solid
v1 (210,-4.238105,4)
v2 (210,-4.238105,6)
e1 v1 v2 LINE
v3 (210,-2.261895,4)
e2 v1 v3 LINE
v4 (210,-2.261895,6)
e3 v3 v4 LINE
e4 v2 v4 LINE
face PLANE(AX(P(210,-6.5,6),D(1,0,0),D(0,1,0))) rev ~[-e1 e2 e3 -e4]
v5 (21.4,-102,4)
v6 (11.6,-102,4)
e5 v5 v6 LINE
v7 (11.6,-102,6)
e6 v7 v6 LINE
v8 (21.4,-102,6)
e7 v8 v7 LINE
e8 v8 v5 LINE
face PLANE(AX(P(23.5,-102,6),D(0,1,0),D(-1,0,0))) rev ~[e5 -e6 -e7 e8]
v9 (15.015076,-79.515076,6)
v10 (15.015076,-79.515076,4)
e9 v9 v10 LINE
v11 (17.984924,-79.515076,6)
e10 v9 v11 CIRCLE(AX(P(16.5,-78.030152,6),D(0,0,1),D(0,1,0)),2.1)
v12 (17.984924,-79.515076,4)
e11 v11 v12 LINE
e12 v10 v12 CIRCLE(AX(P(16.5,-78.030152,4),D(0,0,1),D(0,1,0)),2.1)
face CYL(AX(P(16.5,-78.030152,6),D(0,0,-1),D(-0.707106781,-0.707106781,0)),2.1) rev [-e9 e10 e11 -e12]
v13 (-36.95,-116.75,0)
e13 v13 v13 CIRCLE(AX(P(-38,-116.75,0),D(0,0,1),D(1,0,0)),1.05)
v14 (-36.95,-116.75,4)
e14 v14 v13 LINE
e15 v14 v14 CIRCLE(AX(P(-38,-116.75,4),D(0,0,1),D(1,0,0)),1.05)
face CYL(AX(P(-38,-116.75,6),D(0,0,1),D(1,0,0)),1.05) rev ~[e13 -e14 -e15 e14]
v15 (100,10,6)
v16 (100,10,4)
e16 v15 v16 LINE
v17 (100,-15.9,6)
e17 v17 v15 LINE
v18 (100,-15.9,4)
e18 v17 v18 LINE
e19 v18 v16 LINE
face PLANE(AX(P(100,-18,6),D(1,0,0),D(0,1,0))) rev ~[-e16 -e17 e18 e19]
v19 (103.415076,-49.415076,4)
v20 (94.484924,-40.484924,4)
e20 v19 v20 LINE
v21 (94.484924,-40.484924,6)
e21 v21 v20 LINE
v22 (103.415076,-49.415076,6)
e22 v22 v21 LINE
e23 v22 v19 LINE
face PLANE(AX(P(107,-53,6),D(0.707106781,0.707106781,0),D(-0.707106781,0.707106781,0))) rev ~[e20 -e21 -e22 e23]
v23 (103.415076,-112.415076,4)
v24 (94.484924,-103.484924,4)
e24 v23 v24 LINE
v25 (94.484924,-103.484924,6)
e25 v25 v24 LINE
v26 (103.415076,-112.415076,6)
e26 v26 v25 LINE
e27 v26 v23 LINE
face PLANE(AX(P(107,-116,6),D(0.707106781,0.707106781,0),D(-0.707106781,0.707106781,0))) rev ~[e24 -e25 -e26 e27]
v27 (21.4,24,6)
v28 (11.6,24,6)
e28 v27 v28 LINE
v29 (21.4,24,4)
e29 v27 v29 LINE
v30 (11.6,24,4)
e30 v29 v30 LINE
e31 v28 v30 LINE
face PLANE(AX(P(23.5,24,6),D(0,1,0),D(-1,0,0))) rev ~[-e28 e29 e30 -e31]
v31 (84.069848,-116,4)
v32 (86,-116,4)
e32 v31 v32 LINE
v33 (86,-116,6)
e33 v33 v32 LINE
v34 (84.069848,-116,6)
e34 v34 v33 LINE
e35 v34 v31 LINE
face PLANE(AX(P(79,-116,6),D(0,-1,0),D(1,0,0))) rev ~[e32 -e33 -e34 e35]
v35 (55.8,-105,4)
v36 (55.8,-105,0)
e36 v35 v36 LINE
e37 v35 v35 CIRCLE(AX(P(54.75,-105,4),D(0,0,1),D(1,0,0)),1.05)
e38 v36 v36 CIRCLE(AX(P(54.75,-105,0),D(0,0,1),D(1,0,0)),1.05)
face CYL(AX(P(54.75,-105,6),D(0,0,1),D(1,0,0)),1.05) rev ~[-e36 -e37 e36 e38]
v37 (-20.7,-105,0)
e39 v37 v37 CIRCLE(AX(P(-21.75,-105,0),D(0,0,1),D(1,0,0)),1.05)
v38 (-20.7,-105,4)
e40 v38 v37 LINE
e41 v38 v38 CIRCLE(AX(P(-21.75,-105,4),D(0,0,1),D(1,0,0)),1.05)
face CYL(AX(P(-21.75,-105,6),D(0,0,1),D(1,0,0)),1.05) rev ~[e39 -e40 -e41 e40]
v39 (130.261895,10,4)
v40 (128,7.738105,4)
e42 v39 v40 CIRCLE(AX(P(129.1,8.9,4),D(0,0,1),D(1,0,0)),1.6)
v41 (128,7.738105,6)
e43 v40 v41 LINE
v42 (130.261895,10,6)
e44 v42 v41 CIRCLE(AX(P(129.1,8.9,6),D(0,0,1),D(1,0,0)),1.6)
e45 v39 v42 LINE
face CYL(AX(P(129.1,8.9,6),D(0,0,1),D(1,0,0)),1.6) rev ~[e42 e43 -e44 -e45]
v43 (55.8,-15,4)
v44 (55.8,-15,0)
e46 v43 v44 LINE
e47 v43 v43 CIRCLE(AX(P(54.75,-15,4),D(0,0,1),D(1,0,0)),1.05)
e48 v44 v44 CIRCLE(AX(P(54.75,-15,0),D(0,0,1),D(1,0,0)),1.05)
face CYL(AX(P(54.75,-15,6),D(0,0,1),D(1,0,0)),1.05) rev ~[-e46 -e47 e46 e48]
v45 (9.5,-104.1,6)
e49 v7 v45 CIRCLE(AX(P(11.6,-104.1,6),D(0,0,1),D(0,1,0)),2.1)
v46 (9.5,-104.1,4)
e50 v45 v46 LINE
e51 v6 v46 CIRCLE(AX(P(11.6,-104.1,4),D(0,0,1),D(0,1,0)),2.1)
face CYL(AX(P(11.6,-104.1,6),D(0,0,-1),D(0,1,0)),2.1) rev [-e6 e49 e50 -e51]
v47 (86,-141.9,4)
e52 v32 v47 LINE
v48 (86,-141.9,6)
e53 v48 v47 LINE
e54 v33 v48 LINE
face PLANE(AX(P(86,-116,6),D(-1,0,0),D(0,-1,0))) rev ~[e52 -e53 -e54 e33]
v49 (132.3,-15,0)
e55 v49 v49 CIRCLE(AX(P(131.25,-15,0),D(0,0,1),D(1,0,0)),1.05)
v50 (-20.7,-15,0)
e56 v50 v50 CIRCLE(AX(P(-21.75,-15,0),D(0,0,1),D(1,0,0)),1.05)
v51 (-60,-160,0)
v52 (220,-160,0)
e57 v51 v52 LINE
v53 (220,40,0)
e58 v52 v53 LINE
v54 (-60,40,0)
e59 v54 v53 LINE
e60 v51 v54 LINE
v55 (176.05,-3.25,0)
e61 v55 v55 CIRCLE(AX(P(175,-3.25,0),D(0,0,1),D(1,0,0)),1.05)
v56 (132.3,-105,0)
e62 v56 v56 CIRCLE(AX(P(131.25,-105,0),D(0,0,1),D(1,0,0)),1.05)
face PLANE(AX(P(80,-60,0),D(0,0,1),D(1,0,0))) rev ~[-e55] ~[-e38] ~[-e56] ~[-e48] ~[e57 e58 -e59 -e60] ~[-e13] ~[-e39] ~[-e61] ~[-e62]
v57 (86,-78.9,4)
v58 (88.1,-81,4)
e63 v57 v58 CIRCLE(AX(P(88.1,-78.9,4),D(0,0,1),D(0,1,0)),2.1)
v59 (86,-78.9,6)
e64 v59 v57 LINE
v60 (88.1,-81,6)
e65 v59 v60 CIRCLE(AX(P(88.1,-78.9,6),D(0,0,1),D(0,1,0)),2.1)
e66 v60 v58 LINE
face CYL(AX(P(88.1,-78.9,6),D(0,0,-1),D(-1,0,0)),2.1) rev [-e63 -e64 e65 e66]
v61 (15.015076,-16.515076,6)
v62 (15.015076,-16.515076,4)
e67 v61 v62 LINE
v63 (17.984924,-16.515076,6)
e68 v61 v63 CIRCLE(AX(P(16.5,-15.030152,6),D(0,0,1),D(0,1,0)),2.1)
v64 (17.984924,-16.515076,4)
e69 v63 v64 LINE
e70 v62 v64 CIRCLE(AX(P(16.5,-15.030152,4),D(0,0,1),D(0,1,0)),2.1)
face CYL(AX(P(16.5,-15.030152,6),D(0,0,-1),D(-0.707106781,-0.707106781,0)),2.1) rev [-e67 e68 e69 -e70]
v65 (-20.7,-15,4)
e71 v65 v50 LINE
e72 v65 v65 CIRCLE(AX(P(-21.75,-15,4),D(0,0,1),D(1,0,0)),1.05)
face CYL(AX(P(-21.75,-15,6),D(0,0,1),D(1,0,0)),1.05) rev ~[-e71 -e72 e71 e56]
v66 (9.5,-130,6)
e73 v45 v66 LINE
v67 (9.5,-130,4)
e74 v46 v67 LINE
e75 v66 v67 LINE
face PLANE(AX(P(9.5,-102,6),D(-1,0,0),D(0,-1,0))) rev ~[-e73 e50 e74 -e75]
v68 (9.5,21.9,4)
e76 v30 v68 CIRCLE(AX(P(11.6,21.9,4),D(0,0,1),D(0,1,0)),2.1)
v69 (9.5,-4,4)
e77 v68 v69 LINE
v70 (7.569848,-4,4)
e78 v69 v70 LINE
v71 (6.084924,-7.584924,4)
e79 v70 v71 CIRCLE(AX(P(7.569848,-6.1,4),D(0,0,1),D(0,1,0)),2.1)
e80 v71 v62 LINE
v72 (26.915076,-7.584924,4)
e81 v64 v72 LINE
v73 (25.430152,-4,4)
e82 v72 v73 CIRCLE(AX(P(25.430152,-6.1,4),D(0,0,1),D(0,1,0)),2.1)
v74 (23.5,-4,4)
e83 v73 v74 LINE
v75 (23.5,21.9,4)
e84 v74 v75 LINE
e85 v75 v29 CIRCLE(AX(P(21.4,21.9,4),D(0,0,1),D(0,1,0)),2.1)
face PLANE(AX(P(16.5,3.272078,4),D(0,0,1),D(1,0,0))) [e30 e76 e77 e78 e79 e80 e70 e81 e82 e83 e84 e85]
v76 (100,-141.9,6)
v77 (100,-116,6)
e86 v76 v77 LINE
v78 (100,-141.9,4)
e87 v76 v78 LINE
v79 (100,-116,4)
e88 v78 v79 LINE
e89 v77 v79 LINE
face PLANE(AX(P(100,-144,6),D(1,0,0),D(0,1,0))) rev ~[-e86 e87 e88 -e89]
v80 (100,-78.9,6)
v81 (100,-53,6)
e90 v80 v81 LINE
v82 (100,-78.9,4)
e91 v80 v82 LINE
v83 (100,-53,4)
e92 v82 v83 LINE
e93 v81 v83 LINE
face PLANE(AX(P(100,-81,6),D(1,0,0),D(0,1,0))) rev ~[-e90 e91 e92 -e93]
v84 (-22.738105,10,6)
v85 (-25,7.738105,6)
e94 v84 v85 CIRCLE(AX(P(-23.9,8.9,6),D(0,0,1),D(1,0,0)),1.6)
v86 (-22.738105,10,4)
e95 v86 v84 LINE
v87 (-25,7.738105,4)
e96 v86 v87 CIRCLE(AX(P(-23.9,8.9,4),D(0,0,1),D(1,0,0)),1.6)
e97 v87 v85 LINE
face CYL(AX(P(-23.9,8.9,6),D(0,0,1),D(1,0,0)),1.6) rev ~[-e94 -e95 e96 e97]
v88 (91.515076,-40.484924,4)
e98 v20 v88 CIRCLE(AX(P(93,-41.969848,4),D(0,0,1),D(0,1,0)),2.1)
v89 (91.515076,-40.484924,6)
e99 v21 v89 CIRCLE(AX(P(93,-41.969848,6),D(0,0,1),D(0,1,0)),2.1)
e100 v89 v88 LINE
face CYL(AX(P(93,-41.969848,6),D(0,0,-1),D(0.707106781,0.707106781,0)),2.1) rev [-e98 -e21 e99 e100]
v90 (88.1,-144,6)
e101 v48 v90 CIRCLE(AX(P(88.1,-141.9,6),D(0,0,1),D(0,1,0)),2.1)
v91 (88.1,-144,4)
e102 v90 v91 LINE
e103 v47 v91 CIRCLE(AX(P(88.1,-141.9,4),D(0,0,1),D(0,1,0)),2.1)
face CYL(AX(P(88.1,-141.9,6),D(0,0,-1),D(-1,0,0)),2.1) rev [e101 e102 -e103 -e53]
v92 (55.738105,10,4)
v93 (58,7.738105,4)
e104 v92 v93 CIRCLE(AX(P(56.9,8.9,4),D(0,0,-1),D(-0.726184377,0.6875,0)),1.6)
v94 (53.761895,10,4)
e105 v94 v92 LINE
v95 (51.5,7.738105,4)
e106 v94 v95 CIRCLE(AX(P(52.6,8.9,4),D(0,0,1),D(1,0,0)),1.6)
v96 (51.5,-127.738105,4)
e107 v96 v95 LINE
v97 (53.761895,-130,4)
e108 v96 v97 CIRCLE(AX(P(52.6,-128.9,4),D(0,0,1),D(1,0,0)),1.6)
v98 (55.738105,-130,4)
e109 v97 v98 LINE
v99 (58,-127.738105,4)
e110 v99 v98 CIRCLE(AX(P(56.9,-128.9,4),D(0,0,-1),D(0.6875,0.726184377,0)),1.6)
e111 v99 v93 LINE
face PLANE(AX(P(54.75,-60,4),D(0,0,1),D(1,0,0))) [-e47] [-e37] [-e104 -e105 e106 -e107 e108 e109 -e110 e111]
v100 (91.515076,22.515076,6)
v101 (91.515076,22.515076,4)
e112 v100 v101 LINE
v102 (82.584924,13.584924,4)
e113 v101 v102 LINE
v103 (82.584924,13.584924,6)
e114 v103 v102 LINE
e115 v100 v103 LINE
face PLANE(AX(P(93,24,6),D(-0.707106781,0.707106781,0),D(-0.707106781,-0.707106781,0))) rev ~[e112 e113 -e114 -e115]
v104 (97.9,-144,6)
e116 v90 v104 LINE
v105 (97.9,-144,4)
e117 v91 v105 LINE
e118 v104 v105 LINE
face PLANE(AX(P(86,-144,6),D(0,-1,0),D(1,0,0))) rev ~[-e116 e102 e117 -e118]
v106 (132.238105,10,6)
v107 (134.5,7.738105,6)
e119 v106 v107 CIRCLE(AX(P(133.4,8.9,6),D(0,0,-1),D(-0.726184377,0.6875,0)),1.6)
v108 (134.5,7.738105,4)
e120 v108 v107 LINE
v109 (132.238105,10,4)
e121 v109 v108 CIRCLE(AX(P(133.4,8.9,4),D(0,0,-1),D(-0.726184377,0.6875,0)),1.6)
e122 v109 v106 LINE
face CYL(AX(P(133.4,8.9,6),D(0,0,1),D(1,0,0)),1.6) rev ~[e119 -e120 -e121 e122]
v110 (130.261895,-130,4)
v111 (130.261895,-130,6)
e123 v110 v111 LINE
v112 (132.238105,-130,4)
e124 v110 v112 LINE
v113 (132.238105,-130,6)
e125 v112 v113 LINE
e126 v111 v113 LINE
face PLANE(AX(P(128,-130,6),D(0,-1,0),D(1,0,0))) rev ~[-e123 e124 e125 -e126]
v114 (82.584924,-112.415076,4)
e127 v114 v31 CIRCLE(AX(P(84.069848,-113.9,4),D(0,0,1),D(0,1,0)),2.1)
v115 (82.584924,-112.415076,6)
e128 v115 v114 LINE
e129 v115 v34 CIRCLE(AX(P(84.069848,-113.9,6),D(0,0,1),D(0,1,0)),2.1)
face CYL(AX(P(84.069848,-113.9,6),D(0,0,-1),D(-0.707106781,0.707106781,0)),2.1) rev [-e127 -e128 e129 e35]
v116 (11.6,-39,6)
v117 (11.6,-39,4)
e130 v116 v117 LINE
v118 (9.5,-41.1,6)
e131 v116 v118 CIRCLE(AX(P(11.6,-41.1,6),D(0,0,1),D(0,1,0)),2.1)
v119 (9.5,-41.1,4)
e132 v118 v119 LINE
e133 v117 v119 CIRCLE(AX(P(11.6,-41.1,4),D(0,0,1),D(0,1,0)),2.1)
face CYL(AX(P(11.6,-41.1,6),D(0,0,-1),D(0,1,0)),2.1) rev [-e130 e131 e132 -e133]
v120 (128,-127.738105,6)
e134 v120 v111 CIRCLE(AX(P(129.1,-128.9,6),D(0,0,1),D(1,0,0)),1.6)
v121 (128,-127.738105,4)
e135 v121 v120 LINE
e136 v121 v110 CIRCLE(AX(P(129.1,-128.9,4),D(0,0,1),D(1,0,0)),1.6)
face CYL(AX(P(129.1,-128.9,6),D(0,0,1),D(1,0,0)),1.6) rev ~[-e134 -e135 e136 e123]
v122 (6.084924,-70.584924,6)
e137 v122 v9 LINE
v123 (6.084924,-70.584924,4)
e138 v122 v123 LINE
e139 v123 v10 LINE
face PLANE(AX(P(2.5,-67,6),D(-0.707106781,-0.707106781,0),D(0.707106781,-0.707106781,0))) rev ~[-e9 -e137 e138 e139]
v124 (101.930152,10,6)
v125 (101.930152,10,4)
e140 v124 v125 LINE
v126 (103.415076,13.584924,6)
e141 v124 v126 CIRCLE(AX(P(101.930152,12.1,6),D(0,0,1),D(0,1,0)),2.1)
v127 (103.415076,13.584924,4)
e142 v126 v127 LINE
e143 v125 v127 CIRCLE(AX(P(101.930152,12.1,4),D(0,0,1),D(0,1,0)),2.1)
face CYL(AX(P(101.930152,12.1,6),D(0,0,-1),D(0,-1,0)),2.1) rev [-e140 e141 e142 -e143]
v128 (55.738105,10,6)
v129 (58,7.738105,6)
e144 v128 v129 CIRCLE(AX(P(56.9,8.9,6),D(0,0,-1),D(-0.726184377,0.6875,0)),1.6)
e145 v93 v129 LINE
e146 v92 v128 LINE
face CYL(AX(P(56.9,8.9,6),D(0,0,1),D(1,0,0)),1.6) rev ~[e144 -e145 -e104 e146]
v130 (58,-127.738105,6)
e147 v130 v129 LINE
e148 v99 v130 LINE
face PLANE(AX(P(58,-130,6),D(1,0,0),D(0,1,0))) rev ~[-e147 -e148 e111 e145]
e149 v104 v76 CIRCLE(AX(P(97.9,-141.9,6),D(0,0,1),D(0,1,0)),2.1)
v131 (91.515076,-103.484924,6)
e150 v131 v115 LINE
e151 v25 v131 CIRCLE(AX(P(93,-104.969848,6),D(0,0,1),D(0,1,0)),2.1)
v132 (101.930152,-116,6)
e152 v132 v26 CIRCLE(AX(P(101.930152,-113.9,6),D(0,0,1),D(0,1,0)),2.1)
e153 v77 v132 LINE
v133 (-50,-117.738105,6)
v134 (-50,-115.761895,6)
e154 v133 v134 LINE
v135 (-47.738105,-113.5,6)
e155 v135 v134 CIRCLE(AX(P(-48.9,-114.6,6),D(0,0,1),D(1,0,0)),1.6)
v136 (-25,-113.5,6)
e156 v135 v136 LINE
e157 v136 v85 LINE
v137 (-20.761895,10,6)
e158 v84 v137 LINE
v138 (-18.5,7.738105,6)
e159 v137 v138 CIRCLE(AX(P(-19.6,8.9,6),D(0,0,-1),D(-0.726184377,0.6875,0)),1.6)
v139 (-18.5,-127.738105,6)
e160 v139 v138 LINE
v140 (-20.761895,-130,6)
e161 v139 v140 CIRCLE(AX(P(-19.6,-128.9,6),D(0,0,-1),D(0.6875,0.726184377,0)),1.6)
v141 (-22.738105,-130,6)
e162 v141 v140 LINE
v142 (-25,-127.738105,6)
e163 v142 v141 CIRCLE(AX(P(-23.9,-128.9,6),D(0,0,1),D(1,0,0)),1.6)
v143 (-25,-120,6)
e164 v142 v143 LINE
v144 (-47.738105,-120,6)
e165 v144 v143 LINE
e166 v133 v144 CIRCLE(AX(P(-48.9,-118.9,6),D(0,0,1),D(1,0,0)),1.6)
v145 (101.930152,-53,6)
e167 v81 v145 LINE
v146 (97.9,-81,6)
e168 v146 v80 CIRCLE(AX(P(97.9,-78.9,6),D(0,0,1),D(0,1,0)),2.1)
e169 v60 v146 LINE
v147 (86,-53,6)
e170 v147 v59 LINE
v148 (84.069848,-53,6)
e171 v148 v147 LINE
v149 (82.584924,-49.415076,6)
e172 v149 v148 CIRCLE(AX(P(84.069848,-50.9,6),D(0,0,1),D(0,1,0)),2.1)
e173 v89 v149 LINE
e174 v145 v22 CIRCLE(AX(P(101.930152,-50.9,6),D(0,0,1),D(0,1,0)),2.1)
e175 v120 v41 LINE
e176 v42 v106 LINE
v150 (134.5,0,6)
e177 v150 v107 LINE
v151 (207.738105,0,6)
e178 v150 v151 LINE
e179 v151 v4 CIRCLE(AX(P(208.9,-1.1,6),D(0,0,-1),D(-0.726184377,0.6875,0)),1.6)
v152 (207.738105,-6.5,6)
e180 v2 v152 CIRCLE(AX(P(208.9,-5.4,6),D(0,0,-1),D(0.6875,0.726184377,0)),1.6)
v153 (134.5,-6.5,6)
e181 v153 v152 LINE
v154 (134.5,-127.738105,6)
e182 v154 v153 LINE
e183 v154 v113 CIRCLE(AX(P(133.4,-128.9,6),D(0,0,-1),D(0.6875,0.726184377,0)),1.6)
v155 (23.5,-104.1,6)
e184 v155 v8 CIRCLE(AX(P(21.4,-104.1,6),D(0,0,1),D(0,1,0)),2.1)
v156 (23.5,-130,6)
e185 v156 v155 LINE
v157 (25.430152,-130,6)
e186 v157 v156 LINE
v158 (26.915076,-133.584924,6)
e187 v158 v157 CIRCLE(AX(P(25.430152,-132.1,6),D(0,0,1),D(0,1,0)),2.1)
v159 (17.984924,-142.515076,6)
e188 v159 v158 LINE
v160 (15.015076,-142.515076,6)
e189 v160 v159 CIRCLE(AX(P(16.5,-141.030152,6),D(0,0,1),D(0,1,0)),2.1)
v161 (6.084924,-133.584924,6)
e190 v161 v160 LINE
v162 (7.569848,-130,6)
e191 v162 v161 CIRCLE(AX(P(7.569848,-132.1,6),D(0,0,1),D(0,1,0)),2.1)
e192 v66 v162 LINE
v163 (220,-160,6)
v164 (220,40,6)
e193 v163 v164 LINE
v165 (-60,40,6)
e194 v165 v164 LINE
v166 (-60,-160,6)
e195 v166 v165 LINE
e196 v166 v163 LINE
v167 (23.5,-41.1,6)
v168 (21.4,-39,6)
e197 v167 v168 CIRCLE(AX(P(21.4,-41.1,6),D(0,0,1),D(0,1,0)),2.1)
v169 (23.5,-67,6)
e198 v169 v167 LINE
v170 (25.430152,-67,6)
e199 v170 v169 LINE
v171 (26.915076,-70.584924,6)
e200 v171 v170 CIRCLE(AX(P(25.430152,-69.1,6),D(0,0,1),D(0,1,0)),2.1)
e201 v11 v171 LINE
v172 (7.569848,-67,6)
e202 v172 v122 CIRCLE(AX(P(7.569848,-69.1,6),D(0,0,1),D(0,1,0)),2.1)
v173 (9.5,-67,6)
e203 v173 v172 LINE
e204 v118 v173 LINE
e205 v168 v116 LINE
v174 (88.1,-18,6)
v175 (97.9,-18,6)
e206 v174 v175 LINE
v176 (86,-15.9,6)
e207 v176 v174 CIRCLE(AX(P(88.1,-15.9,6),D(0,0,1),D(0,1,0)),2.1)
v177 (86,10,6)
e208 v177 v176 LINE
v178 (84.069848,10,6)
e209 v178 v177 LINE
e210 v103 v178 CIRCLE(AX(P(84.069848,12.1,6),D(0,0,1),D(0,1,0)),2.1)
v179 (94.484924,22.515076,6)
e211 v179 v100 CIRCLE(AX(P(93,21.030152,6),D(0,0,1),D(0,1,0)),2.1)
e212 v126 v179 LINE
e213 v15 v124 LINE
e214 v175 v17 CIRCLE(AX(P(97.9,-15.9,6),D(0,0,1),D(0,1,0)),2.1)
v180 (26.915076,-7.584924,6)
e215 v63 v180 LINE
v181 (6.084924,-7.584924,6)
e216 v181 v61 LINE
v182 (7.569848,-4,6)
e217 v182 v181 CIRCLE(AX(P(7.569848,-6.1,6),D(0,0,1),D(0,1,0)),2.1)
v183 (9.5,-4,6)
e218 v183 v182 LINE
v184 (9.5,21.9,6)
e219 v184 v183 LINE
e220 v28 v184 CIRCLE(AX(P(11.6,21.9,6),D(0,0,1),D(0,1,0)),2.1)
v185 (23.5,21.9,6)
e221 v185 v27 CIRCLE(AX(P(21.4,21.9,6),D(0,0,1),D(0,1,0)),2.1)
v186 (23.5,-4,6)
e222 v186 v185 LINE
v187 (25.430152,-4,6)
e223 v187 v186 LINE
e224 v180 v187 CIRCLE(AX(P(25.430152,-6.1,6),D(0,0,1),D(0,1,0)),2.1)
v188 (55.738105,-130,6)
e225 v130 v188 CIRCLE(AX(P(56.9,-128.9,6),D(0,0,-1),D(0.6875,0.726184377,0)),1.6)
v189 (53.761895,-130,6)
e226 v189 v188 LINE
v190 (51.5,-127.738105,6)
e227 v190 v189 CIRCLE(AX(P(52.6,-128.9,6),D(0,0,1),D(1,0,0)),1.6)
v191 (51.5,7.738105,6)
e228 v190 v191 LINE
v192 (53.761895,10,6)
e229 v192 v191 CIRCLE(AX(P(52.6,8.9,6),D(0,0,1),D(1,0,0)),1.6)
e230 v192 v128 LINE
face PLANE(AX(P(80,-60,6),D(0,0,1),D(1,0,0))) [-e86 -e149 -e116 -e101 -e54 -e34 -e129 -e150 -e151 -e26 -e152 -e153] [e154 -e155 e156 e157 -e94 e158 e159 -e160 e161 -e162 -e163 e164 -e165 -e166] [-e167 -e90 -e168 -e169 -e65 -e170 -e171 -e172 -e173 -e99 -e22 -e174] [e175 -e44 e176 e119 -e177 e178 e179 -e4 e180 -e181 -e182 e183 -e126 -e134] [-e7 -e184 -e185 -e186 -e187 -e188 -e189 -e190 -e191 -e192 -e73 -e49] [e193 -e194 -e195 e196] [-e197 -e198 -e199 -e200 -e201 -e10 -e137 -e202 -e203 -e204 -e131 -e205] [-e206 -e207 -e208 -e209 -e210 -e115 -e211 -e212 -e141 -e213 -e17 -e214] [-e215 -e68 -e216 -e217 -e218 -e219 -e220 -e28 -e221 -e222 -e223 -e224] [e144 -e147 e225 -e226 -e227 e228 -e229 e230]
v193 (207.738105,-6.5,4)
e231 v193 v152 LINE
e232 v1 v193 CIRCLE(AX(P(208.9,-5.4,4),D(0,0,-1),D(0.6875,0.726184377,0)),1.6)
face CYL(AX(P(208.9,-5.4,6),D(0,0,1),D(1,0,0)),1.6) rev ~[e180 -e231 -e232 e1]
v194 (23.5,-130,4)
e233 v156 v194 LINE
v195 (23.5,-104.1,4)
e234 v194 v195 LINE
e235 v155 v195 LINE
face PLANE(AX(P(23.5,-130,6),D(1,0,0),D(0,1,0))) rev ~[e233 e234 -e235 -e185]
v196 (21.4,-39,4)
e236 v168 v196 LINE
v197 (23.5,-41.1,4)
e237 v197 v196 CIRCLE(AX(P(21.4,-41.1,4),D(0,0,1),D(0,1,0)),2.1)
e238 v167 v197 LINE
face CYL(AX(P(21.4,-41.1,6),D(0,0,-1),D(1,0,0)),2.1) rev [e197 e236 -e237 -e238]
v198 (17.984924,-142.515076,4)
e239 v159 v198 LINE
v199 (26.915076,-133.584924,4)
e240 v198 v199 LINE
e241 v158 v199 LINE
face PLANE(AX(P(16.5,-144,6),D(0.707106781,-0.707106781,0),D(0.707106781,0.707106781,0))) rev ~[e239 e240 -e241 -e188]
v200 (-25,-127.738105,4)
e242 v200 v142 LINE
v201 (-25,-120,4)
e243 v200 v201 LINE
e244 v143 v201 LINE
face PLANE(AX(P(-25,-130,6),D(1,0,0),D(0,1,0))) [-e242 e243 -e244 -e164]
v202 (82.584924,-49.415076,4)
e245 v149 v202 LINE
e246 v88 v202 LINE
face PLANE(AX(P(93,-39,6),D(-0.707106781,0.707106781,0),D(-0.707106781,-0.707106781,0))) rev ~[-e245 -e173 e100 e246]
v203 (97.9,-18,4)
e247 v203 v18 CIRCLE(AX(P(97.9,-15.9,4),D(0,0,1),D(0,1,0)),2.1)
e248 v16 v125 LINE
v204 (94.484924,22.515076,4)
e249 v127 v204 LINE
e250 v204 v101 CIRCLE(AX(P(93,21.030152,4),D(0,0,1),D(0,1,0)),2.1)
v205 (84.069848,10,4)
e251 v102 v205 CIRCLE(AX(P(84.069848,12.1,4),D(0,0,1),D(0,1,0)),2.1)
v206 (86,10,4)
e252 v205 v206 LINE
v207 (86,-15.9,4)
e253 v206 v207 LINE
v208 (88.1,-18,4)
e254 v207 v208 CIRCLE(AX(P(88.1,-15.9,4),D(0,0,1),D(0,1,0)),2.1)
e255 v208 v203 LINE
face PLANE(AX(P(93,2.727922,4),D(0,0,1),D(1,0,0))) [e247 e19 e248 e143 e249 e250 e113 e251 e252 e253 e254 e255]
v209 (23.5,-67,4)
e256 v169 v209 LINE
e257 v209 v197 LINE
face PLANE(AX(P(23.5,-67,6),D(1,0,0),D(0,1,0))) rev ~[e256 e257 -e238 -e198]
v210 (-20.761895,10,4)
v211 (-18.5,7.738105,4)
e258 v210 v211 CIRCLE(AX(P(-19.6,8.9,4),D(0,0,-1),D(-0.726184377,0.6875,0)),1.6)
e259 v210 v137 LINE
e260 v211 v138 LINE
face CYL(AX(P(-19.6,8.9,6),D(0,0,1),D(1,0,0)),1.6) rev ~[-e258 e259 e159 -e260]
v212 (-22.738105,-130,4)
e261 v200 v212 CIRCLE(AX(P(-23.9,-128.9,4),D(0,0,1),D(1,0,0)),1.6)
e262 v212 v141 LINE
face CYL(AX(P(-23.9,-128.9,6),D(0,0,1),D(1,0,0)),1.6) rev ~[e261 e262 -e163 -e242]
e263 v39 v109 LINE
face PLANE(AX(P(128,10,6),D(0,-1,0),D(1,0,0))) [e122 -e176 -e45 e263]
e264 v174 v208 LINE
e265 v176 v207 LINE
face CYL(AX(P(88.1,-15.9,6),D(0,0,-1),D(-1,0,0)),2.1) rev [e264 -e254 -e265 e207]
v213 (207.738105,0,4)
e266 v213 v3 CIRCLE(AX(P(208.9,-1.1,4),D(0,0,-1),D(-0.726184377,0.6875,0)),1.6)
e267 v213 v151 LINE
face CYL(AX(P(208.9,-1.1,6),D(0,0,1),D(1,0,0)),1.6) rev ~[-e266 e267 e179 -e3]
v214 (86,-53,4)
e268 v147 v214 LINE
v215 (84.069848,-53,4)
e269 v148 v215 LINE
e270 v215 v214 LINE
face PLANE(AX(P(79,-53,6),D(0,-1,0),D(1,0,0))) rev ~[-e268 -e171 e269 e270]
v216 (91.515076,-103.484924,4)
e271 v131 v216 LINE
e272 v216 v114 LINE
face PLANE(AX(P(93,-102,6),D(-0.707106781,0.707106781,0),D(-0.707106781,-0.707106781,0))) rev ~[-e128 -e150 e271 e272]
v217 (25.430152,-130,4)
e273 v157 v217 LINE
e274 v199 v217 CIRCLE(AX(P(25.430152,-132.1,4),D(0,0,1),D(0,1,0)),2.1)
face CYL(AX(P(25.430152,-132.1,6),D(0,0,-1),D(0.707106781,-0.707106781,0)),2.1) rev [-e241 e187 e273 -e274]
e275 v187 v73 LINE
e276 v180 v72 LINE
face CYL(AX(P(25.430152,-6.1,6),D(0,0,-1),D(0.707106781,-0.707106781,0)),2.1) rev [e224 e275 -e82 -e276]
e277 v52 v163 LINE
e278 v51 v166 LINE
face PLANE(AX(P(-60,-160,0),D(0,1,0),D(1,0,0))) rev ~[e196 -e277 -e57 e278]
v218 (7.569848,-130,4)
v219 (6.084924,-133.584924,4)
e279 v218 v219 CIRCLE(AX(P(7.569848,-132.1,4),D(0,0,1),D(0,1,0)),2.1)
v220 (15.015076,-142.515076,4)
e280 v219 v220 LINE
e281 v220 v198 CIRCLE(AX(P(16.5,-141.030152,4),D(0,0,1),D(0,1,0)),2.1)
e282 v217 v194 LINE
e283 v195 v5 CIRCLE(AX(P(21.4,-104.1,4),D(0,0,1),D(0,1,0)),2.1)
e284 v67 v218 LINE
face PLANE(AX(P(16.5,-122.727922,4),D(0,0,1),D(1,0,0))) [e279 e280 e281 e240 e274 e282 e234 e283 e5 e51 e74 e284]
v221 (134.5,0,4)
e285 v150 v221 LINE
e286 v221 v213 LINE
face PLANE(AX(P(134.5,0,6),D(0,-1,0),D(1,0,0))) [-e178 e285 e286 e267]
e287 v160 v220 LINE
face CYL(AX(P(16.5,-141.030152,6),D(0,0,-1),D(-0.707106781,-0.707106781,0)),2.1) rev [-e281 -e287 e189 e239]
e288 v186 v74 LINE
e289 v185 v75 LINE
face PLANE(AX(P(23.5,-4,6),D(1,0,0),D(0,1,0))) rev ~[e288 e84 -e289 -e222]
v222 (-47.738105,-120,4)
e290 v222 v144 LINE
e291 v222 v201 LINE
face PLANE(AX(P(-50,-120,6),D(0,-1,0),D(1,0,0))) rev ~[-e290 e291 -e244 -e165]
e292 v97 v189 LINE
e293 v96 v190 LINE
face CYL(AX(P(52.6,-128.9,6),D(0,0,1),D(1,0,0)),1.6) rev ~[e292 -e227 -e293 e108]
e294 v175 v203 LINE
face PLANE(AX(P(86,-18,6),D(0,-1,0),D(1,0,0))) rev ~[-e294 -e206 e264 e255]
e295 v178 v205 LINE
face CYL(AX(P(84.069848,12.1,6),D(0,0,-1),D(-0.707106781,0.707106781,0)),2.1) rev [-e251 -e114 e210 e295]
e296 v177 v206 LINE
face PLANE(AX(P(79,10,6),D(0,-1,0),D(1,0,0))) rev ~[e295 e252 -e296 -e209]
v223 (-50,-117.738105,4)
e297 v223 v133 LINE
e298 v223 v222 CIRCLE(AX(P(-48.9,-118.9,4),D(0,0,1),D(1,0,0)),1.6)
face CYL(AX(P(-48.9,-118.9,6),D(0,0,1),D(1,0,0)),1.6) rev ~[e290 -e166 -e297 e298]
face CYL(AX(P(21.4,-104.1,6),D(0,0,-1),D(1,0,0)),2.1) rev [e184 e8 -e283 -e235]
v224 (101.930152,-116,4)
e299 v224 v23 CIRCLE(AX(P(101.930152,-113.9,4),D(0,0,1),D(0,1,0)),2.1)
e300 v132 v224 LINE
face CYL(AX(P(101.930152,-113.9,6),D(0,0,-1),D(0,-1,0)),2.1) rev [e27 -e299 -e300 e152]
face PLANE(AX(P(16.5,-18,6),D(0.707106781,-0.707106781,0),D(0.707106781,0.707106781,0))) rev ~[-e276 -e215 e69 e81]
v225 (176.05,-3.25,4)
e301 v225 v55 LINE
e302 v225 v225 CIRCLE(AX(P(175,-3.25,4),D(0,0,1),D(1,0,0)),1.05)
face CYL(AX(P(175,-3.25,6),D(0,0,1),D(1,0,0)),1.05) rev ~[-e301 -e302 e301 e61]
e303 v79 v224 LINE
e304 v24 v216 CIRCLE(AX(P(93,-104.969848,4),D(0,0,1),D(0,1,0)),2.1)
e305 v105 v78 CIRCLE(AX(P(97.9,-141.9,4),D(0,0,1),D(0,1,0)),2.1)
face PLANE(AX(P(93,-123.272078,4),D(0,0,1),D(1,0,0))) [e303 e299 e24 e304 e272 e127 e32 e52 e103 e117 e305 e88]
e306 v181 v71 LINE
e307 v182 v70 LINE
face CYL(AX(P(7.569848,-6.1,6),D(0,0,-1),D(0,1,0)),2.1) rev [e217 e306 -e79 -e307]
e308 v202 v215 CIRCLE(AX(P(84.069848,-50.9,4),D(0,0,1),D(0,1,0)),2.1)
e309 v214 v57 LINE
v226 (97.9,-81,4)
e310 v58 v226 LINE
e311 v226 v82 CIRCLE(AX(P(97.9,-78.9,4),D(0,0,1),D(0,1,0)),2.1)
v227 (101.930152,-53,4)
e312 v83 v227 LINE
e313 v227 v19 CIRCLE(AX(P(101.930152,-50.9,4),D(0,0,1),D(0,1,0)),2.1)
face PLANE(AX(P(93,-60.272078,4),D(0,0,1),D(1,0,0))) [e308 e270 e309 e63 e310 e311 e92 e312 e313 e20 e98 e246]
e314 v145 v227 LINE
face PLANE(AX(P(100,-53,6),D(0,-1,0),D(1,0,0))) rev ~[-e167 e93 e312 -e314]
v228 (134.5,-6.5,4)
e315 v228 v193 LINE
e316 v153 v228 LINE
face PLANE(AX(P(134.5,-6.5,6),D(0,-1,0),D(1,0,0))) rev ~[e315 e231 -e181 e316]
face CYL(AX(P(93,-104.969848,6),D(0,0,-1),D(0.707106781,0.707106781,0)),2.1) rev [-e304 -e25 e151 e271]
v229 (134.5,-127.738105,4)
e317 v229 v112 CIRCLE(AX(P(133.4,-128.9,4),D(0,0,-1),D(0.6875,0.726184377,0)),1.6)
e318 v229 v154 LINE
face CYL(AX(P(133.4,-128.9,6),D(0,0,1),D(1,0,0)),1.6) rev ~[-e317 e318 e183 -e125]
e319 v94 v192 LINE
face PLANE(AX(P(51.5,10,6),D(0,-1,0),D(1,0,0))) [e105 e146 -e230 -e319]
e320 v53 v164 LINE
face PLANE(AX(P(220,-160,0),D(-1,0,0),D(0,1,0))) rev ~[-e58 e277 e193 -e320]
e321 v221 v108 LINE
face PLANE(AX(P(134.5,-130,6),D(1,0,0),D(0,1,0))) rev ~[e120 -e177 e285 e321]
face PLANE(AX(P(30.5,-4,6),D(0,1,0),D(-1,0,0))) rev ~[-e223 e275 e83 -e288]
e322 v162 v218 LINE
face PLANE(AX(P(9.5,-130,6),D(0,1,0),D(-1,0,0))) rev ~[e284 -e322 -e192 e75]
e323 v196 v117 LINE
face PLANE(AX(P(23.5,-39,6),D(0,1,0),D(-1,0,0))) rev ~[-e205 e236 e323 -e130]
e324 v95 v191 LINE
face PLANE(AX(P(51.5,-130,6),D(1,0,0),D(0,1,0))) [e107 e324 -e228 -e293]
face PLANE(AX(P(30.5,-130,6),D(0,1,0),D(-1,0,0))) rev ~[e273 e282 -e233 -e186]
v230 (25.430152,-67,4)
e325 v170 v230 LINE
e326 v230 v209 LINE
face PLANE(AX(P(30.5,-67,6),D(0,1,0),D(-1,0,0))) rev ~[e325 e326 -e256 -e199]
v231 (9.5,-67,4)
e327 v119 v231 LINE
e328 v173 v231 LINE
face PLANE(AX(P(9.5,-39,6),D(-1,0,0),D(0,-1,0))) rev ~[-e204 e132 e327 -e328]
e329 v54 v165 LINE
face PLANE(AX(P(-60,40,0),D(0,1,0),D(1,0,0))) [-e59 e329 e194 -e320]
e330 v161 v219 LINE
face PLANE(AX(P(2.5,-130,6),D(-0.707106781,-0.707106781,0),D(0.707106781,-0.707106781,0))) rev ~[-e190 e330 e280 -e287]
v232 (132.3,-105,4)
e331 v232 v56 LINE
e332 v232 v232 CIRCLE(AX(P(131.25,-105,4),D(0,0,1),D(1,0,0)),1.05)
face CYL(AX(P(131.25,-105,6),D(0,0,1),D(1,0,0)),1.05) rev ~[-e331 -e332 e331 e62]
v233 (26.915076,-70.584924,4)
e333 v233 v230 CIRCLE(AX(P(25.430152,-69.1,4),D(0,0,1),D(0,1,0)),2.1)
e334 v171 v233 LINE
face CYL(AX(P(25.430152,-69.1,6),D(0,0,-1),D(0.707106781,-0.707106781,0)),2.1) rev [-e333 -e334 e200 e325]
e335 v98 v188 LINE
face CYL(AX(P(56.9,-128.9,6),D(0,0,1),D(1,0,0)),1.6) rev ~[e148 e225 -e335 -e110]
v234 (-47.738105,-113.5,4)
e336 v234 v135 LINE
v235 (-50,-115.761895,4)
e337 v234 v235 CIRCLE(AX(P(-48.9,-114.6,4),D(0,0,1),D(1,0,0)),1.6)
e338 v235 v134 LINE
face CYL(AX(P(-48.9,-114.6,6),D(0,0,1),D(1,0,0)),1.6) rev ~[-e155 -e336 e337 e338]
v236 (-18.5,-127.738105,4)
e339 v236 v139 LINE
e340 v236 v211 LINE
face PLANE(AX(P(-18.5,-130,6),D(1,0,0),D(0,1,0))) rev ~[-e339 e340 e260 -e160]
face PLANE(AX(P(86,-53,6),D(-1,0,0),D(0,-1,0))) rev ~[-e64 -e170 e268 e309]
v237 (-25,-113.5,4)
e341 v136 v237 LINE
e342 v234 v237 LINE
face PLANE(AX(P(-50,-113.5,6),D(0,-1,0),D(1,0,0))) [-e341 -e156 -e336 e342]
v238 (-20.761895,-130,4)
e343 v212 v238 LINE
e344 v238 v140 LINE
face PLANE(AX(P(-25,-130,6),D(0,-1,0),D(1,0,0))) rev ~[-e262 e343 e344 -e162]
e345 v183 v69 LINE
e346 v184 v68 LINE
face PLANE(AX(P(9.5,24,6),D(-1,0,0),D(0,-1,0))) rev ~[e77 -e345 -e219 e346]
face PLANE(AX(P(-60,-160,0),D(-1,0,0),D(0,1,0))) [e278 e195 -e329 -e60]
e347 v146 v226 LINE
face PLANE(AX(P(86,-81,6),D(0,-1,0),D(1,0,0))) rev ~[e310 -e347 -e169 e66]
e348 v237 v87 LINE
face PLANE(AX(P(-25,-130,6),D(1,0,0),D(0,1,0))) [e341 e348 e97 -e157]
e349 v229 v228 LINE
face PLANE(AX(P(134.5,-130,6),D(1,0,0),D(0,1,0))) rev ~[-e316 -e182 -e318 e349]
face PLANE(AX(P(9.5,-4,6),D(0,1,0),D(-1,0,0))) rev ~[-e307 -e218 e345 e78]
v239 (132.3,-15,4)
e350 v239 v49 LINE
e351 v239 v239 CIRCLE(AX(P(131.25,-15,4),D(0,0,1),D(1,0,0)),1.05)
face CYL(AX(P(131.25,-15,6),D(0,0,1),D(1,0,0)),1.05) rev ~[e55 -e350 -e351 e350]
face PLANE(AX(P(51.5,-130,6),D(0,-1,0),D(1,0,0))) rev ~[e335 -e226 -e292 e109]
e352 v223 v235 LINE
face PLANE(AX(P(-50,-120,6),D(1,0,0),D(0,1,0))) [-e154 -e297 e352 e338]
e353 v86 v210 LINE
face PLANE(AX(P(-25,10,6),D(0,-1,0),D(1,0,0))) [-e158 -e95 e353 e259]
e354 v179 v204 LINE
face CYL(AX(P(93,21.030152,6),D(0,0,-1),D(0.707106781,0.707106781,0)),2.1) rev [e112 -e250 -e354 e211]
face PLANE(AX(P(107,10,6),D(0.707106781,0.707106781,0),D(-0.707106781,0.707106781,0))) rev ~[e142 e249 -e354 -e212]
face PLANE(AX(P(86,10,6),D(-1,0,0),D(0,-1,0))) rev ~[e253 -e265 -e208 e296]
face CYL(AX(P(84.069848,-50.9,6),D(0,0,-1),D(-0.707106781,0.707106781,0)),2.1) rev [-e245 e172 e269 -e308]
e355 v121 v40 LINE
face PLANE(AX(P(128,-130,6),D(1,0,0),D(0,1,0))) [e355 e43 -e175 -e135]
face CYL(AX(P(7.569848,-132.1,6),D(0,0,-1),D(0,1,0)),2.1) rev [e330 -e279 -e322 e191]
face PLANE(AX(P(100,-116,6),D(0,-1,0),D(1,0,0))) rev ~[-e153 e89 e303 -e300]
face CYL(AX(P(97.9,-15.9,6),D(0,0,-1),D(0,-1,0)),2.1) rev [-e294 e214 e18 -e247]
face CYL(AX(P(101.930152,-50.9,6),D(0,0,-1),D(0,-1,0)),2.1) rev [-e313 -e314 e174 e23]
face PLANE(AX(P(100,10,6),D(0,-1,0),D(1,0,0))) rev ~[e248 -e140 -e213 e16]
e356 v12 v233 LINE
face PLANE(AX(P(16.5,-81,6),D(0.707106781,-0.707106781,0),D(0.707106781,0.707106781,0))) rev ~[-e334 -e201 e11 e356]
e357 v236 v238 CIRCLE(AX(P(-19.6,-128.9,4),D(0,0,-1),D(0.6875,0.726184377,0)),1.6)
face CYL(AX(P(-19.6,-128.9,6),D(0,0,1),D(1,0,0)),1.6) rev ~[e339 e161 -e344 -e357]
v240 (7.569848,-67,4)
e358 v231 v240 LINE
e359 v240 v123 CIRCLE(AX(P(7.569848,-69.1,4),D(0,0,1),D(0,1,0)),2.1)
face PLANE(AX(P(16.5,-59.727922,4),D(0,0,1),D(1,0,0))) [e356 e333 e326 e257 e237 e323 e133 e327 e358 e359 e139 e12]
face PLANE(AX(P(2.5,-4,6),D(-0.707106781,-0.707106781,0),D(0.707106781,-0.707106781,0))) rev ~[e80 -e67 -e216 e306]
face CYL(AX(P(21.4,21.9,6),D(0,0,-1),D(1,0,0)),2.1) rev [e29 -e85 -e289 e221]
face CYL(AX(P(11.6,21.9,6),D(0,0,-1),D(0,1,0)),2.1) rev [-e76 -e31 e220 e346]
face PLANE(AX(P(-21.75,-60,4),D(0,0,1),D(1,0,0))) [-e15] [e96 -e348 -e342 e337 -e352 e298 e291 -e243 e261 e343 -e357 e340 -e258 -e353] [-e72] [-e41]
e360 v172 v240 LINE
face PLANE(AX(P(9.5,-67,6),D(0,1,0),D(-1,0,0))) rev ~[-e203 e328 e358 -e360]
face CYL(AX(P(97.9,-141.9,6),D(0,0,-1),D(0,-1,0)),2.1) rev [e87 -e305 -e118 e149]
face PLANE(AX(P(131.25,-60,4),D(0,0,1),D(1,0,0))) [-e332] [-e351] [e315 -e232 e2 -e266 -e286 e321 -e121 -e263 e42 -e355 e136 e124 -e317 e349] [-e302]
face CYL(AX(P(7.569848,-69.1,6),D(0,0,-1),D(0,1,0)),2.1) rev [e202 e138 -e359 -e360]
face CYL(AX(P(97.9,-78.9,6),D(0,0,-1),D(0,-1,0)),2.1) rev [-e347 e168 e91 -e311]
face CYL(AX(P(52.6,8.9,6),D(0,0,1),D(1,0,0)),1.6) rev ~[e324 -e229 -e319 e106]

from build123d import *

# Parameters (mm, degrees)
ESQUISSE1_W             = 280
ESQUISSE1_H             = 200
EXTRUSION1_DEPTH        = 6
ESQUISSE2_W             = 6.5
ESQUISSE2_H             = 140
ENL_V_MAT_EXTRU_1_DEPTH = 2
ESQUISSE3_R             = 1.6
ENL_V_MAT_EXTRU_2_DEPTH = 2
ENL_V_MAT_EXTRU_4_DEPTH = 2
CONG_1_R                = 2.1
ESQUISSE6_W             = 25
ESQUISSE6_H             = 6.5
ESQUISSE6_W_2           = 75.5
ENL_V_MAT_EXTRU_5_DEPTH = 2
ESQUISSE7_R             = 1.6
ENL_V_MAT_EXTRU_6_DEPTH = 2
ESQUISSE4_R             = 1.05
ENL_V_MAT_EXTRU_3_DEPTH = 273.095571445


with BuildPart() as part:
    # Esquisse1 → Extrusion1 (new body)
    with BuildSketch(Plane.XY):
        with Locations((80, -60)):
            Rectangle(ESQUISSE1_W, ESQUISSE1_H)
    extrude(amount=EXTRUSION1_DEPTH)

    # Esquisse2 → Enlèv. mat.-Extru.1 (cut)
    with BuildSketch(Plane.XY.offset(6)):
        with Locations((-21.75, -60)):
            Rectangle(ESQUISSE2_W, ESQUISSE2_H)
        with Locations((54.75, -60)):
            Rectangle(ESQUISSE2_W, ESQUISSE2_H)
        with Locations((131.25, -60)):
            Rectangle(ESQUISSE2_W, ESQUISSE2_H)
    extrude(amount=-ENL_V_MAT_EXTRU_1_DEPTH, mode=Mode.SUBTRACT)

    # Esquisse3 → Enlèv. mat.-Extru.2 (cut)
    with BuildSketch(Plane.XY.offset(6)):
        with Locations((-23.9, 8.9)):
            Circle(ESQUISSE3_R)
        with Locations((-19.6, 8.9)):
            Circle(ESQUISSE3_R)
        with Locations((-23.9, -128.9)):
            Circle(ESQUISSE3_R)
        with Locations((-19.6, -128.9)):
            Circle(ESQUISSE3_R)
        with Locations((52.6, 8.9)):
            Circle(ESQUISSE3_R)
        with Locations((56.9, 8.9)):
            Circle(ESQUISSE3_R)
        with Locations((52.6, -128.9)):
            Circle(ESQUISSE3_R)
        with Locations((56.9, -128.9)):
            Circle(ESQUISSE3_R)
        with Locations((129.1, 8.9)):
            Circle(ESQUISSE3_R)
        with Locations((133.4, 8.9)):
            Circle(ESQUISSE3_R)
        with Locations((129.1, -128.9)):
            Circle(ESQUISSE3_R)
        with Locations((133.4, -128.9)):
            Circle(ESQUISSE3_R)
    extrude(amount=-ENL_V_MAT_EXTRU_2_DEPTH, mode=Mode.SUBTRACT)

    # Esquisse5 → Enlèv. mat.-Extru.4 (cut)
    with BuildSketch(Plane.XY.offset(6)):
        Polygon((86, -53), (86, -81), (100, -81), (100, -53), (107, -53), (93, -39), (79, -53), align=None)
        Polygon((86, -116), (86, -144), (100, -144), (100, -116), (107, -116), (93, -102), (79, -116), align=None)
        Polygon((86, 10), (86, -18), (100, -18), (100, 10), (107, 10), (93, 24), (79, 10), align=None)
        Polygon((9.5, -4), (2.5, -4), (16.5, -18), (30.5, -4), (23.5, -4), (23.5, 24), (9.5, 24), align=None)
        Polygon((9.5, -67), (2.5, -67), (16.5, -81), (30.5, -67), (23.5, -67), (23.5, -39), (9.5, -39), align=None)
        Polygon((9.5, -130), (2.5, -130), (16.5, -144), (30.5, -130), (23.5, -130), (23.5, -102), (9.5, -102), align=None)
    extrude(amount=-ENL_V_MAT_EXTRU_4_DEPTH, mode=Mode.SUBTRACT)

    # Congé1
    cong_1_edges = [part.edges().sort_by_distance(p)[0] for p in [
        (79, -116, 5),
        (93, -102, 5),
        (107, -116, 5),
        (100, -144, 5),
        (86, -144, 5),
        (9.5, 24, 5),
        (23.5, 24, 5),
        (30.5, -4, 5),
        (16.5, -18, 5),
        (2.5, -4, 5),
        (79, -53, 5),
        (93, -39, 5),
        (107, -53, 5),
        (100, -81, 5),
        (86, -81, 5),
        (79, 10, 5),
        (93, 24, 5),
        (107, 10, 5),
        (100, -18, 5),
        (86, -18, 5),
        (9.5, -39, 5),
        (23.5, -39, 5),
        (30.5, -67, 5),
        (16.5, -81, 5),
        (2.5, -67, 5),
        (9.5, -102, 5),
        (23.5, -102, 5),
        (30.5, -130, 5),
        (16.5, -144, 5),
        (2.5, -130, 5),
    ]]
    fillet(cong_1_edges, radius=CONG_1_R)

    # Esquisse6 → Enlèv. mat.-Extru.5 (cut)
    with BuildSketch(Plane.XY.offset(6)):
        with Locations((-37.5, -116.75)):
            Rectangle(ESQUISSE6_W, ESQUISSE6_H)
        with Locations((172.25, -3.25)):
            Rectangle(ESQUISSE6_W_2, ESQUISSE6_H)
    extrude(amount=-ENL_V_MAT_EXTRU_5_DEPTH, mode=Mode.SUBTRACT)

    # Esquisse7 → Enlèv. mat.-Extru.6 (cut)
    with BuildSketch(Plane.XY.offset(6)):
        with Locations((208.9, -1.1)):
            Circle(ESQUISSE7_R)
        with Locations((208.9, -5.4)):
            Circle(ESQUISSE7_R)
        with Locations((-48.9, -114.6)):
            Circle(ESQUISSE7_R)
        with Locations((-48.9, -118.9)):
            Circle(ESQUISSE7_R)
    extrude(amount=-ENL_V_MAT_EXTRU_6_DEPTH, mode=Mode.SUBTRACT)

    # Esquisse4 → Enlèv. mat.-Extru.3 (cut, through all)
    with BuildSketch(Plane.XY.offset(6)):
        with Locations((-21.75, -15)):
            Circle(ESQUISSE4_R)
        with Locations((-21.75, -105)):
            Circle(ESQUISSE4_R)
        with Locations((54.75, -15)):
            Circle(ESQUISSE4_R)
        with Locations((54.75, -105)):
            Circle(ESQUISSE4_R)
        with Locations((131.25, -15)):
            Circle(ESQUISSE4_R)
        with Locations((131.25, -105)):
            Circle(ESQUISSE4_R)
        with Locations((-38, -116.75)):
            Circle(ESQUISSE4_R)
        with Locations((175, -3.25)):
            Circle(ESQUISSE4_R)
    extrude(amount=-ENL_V_MAT_EXTRU_3_DEPTH, mode=Mode.SUBTRACT)


solid = part.part
